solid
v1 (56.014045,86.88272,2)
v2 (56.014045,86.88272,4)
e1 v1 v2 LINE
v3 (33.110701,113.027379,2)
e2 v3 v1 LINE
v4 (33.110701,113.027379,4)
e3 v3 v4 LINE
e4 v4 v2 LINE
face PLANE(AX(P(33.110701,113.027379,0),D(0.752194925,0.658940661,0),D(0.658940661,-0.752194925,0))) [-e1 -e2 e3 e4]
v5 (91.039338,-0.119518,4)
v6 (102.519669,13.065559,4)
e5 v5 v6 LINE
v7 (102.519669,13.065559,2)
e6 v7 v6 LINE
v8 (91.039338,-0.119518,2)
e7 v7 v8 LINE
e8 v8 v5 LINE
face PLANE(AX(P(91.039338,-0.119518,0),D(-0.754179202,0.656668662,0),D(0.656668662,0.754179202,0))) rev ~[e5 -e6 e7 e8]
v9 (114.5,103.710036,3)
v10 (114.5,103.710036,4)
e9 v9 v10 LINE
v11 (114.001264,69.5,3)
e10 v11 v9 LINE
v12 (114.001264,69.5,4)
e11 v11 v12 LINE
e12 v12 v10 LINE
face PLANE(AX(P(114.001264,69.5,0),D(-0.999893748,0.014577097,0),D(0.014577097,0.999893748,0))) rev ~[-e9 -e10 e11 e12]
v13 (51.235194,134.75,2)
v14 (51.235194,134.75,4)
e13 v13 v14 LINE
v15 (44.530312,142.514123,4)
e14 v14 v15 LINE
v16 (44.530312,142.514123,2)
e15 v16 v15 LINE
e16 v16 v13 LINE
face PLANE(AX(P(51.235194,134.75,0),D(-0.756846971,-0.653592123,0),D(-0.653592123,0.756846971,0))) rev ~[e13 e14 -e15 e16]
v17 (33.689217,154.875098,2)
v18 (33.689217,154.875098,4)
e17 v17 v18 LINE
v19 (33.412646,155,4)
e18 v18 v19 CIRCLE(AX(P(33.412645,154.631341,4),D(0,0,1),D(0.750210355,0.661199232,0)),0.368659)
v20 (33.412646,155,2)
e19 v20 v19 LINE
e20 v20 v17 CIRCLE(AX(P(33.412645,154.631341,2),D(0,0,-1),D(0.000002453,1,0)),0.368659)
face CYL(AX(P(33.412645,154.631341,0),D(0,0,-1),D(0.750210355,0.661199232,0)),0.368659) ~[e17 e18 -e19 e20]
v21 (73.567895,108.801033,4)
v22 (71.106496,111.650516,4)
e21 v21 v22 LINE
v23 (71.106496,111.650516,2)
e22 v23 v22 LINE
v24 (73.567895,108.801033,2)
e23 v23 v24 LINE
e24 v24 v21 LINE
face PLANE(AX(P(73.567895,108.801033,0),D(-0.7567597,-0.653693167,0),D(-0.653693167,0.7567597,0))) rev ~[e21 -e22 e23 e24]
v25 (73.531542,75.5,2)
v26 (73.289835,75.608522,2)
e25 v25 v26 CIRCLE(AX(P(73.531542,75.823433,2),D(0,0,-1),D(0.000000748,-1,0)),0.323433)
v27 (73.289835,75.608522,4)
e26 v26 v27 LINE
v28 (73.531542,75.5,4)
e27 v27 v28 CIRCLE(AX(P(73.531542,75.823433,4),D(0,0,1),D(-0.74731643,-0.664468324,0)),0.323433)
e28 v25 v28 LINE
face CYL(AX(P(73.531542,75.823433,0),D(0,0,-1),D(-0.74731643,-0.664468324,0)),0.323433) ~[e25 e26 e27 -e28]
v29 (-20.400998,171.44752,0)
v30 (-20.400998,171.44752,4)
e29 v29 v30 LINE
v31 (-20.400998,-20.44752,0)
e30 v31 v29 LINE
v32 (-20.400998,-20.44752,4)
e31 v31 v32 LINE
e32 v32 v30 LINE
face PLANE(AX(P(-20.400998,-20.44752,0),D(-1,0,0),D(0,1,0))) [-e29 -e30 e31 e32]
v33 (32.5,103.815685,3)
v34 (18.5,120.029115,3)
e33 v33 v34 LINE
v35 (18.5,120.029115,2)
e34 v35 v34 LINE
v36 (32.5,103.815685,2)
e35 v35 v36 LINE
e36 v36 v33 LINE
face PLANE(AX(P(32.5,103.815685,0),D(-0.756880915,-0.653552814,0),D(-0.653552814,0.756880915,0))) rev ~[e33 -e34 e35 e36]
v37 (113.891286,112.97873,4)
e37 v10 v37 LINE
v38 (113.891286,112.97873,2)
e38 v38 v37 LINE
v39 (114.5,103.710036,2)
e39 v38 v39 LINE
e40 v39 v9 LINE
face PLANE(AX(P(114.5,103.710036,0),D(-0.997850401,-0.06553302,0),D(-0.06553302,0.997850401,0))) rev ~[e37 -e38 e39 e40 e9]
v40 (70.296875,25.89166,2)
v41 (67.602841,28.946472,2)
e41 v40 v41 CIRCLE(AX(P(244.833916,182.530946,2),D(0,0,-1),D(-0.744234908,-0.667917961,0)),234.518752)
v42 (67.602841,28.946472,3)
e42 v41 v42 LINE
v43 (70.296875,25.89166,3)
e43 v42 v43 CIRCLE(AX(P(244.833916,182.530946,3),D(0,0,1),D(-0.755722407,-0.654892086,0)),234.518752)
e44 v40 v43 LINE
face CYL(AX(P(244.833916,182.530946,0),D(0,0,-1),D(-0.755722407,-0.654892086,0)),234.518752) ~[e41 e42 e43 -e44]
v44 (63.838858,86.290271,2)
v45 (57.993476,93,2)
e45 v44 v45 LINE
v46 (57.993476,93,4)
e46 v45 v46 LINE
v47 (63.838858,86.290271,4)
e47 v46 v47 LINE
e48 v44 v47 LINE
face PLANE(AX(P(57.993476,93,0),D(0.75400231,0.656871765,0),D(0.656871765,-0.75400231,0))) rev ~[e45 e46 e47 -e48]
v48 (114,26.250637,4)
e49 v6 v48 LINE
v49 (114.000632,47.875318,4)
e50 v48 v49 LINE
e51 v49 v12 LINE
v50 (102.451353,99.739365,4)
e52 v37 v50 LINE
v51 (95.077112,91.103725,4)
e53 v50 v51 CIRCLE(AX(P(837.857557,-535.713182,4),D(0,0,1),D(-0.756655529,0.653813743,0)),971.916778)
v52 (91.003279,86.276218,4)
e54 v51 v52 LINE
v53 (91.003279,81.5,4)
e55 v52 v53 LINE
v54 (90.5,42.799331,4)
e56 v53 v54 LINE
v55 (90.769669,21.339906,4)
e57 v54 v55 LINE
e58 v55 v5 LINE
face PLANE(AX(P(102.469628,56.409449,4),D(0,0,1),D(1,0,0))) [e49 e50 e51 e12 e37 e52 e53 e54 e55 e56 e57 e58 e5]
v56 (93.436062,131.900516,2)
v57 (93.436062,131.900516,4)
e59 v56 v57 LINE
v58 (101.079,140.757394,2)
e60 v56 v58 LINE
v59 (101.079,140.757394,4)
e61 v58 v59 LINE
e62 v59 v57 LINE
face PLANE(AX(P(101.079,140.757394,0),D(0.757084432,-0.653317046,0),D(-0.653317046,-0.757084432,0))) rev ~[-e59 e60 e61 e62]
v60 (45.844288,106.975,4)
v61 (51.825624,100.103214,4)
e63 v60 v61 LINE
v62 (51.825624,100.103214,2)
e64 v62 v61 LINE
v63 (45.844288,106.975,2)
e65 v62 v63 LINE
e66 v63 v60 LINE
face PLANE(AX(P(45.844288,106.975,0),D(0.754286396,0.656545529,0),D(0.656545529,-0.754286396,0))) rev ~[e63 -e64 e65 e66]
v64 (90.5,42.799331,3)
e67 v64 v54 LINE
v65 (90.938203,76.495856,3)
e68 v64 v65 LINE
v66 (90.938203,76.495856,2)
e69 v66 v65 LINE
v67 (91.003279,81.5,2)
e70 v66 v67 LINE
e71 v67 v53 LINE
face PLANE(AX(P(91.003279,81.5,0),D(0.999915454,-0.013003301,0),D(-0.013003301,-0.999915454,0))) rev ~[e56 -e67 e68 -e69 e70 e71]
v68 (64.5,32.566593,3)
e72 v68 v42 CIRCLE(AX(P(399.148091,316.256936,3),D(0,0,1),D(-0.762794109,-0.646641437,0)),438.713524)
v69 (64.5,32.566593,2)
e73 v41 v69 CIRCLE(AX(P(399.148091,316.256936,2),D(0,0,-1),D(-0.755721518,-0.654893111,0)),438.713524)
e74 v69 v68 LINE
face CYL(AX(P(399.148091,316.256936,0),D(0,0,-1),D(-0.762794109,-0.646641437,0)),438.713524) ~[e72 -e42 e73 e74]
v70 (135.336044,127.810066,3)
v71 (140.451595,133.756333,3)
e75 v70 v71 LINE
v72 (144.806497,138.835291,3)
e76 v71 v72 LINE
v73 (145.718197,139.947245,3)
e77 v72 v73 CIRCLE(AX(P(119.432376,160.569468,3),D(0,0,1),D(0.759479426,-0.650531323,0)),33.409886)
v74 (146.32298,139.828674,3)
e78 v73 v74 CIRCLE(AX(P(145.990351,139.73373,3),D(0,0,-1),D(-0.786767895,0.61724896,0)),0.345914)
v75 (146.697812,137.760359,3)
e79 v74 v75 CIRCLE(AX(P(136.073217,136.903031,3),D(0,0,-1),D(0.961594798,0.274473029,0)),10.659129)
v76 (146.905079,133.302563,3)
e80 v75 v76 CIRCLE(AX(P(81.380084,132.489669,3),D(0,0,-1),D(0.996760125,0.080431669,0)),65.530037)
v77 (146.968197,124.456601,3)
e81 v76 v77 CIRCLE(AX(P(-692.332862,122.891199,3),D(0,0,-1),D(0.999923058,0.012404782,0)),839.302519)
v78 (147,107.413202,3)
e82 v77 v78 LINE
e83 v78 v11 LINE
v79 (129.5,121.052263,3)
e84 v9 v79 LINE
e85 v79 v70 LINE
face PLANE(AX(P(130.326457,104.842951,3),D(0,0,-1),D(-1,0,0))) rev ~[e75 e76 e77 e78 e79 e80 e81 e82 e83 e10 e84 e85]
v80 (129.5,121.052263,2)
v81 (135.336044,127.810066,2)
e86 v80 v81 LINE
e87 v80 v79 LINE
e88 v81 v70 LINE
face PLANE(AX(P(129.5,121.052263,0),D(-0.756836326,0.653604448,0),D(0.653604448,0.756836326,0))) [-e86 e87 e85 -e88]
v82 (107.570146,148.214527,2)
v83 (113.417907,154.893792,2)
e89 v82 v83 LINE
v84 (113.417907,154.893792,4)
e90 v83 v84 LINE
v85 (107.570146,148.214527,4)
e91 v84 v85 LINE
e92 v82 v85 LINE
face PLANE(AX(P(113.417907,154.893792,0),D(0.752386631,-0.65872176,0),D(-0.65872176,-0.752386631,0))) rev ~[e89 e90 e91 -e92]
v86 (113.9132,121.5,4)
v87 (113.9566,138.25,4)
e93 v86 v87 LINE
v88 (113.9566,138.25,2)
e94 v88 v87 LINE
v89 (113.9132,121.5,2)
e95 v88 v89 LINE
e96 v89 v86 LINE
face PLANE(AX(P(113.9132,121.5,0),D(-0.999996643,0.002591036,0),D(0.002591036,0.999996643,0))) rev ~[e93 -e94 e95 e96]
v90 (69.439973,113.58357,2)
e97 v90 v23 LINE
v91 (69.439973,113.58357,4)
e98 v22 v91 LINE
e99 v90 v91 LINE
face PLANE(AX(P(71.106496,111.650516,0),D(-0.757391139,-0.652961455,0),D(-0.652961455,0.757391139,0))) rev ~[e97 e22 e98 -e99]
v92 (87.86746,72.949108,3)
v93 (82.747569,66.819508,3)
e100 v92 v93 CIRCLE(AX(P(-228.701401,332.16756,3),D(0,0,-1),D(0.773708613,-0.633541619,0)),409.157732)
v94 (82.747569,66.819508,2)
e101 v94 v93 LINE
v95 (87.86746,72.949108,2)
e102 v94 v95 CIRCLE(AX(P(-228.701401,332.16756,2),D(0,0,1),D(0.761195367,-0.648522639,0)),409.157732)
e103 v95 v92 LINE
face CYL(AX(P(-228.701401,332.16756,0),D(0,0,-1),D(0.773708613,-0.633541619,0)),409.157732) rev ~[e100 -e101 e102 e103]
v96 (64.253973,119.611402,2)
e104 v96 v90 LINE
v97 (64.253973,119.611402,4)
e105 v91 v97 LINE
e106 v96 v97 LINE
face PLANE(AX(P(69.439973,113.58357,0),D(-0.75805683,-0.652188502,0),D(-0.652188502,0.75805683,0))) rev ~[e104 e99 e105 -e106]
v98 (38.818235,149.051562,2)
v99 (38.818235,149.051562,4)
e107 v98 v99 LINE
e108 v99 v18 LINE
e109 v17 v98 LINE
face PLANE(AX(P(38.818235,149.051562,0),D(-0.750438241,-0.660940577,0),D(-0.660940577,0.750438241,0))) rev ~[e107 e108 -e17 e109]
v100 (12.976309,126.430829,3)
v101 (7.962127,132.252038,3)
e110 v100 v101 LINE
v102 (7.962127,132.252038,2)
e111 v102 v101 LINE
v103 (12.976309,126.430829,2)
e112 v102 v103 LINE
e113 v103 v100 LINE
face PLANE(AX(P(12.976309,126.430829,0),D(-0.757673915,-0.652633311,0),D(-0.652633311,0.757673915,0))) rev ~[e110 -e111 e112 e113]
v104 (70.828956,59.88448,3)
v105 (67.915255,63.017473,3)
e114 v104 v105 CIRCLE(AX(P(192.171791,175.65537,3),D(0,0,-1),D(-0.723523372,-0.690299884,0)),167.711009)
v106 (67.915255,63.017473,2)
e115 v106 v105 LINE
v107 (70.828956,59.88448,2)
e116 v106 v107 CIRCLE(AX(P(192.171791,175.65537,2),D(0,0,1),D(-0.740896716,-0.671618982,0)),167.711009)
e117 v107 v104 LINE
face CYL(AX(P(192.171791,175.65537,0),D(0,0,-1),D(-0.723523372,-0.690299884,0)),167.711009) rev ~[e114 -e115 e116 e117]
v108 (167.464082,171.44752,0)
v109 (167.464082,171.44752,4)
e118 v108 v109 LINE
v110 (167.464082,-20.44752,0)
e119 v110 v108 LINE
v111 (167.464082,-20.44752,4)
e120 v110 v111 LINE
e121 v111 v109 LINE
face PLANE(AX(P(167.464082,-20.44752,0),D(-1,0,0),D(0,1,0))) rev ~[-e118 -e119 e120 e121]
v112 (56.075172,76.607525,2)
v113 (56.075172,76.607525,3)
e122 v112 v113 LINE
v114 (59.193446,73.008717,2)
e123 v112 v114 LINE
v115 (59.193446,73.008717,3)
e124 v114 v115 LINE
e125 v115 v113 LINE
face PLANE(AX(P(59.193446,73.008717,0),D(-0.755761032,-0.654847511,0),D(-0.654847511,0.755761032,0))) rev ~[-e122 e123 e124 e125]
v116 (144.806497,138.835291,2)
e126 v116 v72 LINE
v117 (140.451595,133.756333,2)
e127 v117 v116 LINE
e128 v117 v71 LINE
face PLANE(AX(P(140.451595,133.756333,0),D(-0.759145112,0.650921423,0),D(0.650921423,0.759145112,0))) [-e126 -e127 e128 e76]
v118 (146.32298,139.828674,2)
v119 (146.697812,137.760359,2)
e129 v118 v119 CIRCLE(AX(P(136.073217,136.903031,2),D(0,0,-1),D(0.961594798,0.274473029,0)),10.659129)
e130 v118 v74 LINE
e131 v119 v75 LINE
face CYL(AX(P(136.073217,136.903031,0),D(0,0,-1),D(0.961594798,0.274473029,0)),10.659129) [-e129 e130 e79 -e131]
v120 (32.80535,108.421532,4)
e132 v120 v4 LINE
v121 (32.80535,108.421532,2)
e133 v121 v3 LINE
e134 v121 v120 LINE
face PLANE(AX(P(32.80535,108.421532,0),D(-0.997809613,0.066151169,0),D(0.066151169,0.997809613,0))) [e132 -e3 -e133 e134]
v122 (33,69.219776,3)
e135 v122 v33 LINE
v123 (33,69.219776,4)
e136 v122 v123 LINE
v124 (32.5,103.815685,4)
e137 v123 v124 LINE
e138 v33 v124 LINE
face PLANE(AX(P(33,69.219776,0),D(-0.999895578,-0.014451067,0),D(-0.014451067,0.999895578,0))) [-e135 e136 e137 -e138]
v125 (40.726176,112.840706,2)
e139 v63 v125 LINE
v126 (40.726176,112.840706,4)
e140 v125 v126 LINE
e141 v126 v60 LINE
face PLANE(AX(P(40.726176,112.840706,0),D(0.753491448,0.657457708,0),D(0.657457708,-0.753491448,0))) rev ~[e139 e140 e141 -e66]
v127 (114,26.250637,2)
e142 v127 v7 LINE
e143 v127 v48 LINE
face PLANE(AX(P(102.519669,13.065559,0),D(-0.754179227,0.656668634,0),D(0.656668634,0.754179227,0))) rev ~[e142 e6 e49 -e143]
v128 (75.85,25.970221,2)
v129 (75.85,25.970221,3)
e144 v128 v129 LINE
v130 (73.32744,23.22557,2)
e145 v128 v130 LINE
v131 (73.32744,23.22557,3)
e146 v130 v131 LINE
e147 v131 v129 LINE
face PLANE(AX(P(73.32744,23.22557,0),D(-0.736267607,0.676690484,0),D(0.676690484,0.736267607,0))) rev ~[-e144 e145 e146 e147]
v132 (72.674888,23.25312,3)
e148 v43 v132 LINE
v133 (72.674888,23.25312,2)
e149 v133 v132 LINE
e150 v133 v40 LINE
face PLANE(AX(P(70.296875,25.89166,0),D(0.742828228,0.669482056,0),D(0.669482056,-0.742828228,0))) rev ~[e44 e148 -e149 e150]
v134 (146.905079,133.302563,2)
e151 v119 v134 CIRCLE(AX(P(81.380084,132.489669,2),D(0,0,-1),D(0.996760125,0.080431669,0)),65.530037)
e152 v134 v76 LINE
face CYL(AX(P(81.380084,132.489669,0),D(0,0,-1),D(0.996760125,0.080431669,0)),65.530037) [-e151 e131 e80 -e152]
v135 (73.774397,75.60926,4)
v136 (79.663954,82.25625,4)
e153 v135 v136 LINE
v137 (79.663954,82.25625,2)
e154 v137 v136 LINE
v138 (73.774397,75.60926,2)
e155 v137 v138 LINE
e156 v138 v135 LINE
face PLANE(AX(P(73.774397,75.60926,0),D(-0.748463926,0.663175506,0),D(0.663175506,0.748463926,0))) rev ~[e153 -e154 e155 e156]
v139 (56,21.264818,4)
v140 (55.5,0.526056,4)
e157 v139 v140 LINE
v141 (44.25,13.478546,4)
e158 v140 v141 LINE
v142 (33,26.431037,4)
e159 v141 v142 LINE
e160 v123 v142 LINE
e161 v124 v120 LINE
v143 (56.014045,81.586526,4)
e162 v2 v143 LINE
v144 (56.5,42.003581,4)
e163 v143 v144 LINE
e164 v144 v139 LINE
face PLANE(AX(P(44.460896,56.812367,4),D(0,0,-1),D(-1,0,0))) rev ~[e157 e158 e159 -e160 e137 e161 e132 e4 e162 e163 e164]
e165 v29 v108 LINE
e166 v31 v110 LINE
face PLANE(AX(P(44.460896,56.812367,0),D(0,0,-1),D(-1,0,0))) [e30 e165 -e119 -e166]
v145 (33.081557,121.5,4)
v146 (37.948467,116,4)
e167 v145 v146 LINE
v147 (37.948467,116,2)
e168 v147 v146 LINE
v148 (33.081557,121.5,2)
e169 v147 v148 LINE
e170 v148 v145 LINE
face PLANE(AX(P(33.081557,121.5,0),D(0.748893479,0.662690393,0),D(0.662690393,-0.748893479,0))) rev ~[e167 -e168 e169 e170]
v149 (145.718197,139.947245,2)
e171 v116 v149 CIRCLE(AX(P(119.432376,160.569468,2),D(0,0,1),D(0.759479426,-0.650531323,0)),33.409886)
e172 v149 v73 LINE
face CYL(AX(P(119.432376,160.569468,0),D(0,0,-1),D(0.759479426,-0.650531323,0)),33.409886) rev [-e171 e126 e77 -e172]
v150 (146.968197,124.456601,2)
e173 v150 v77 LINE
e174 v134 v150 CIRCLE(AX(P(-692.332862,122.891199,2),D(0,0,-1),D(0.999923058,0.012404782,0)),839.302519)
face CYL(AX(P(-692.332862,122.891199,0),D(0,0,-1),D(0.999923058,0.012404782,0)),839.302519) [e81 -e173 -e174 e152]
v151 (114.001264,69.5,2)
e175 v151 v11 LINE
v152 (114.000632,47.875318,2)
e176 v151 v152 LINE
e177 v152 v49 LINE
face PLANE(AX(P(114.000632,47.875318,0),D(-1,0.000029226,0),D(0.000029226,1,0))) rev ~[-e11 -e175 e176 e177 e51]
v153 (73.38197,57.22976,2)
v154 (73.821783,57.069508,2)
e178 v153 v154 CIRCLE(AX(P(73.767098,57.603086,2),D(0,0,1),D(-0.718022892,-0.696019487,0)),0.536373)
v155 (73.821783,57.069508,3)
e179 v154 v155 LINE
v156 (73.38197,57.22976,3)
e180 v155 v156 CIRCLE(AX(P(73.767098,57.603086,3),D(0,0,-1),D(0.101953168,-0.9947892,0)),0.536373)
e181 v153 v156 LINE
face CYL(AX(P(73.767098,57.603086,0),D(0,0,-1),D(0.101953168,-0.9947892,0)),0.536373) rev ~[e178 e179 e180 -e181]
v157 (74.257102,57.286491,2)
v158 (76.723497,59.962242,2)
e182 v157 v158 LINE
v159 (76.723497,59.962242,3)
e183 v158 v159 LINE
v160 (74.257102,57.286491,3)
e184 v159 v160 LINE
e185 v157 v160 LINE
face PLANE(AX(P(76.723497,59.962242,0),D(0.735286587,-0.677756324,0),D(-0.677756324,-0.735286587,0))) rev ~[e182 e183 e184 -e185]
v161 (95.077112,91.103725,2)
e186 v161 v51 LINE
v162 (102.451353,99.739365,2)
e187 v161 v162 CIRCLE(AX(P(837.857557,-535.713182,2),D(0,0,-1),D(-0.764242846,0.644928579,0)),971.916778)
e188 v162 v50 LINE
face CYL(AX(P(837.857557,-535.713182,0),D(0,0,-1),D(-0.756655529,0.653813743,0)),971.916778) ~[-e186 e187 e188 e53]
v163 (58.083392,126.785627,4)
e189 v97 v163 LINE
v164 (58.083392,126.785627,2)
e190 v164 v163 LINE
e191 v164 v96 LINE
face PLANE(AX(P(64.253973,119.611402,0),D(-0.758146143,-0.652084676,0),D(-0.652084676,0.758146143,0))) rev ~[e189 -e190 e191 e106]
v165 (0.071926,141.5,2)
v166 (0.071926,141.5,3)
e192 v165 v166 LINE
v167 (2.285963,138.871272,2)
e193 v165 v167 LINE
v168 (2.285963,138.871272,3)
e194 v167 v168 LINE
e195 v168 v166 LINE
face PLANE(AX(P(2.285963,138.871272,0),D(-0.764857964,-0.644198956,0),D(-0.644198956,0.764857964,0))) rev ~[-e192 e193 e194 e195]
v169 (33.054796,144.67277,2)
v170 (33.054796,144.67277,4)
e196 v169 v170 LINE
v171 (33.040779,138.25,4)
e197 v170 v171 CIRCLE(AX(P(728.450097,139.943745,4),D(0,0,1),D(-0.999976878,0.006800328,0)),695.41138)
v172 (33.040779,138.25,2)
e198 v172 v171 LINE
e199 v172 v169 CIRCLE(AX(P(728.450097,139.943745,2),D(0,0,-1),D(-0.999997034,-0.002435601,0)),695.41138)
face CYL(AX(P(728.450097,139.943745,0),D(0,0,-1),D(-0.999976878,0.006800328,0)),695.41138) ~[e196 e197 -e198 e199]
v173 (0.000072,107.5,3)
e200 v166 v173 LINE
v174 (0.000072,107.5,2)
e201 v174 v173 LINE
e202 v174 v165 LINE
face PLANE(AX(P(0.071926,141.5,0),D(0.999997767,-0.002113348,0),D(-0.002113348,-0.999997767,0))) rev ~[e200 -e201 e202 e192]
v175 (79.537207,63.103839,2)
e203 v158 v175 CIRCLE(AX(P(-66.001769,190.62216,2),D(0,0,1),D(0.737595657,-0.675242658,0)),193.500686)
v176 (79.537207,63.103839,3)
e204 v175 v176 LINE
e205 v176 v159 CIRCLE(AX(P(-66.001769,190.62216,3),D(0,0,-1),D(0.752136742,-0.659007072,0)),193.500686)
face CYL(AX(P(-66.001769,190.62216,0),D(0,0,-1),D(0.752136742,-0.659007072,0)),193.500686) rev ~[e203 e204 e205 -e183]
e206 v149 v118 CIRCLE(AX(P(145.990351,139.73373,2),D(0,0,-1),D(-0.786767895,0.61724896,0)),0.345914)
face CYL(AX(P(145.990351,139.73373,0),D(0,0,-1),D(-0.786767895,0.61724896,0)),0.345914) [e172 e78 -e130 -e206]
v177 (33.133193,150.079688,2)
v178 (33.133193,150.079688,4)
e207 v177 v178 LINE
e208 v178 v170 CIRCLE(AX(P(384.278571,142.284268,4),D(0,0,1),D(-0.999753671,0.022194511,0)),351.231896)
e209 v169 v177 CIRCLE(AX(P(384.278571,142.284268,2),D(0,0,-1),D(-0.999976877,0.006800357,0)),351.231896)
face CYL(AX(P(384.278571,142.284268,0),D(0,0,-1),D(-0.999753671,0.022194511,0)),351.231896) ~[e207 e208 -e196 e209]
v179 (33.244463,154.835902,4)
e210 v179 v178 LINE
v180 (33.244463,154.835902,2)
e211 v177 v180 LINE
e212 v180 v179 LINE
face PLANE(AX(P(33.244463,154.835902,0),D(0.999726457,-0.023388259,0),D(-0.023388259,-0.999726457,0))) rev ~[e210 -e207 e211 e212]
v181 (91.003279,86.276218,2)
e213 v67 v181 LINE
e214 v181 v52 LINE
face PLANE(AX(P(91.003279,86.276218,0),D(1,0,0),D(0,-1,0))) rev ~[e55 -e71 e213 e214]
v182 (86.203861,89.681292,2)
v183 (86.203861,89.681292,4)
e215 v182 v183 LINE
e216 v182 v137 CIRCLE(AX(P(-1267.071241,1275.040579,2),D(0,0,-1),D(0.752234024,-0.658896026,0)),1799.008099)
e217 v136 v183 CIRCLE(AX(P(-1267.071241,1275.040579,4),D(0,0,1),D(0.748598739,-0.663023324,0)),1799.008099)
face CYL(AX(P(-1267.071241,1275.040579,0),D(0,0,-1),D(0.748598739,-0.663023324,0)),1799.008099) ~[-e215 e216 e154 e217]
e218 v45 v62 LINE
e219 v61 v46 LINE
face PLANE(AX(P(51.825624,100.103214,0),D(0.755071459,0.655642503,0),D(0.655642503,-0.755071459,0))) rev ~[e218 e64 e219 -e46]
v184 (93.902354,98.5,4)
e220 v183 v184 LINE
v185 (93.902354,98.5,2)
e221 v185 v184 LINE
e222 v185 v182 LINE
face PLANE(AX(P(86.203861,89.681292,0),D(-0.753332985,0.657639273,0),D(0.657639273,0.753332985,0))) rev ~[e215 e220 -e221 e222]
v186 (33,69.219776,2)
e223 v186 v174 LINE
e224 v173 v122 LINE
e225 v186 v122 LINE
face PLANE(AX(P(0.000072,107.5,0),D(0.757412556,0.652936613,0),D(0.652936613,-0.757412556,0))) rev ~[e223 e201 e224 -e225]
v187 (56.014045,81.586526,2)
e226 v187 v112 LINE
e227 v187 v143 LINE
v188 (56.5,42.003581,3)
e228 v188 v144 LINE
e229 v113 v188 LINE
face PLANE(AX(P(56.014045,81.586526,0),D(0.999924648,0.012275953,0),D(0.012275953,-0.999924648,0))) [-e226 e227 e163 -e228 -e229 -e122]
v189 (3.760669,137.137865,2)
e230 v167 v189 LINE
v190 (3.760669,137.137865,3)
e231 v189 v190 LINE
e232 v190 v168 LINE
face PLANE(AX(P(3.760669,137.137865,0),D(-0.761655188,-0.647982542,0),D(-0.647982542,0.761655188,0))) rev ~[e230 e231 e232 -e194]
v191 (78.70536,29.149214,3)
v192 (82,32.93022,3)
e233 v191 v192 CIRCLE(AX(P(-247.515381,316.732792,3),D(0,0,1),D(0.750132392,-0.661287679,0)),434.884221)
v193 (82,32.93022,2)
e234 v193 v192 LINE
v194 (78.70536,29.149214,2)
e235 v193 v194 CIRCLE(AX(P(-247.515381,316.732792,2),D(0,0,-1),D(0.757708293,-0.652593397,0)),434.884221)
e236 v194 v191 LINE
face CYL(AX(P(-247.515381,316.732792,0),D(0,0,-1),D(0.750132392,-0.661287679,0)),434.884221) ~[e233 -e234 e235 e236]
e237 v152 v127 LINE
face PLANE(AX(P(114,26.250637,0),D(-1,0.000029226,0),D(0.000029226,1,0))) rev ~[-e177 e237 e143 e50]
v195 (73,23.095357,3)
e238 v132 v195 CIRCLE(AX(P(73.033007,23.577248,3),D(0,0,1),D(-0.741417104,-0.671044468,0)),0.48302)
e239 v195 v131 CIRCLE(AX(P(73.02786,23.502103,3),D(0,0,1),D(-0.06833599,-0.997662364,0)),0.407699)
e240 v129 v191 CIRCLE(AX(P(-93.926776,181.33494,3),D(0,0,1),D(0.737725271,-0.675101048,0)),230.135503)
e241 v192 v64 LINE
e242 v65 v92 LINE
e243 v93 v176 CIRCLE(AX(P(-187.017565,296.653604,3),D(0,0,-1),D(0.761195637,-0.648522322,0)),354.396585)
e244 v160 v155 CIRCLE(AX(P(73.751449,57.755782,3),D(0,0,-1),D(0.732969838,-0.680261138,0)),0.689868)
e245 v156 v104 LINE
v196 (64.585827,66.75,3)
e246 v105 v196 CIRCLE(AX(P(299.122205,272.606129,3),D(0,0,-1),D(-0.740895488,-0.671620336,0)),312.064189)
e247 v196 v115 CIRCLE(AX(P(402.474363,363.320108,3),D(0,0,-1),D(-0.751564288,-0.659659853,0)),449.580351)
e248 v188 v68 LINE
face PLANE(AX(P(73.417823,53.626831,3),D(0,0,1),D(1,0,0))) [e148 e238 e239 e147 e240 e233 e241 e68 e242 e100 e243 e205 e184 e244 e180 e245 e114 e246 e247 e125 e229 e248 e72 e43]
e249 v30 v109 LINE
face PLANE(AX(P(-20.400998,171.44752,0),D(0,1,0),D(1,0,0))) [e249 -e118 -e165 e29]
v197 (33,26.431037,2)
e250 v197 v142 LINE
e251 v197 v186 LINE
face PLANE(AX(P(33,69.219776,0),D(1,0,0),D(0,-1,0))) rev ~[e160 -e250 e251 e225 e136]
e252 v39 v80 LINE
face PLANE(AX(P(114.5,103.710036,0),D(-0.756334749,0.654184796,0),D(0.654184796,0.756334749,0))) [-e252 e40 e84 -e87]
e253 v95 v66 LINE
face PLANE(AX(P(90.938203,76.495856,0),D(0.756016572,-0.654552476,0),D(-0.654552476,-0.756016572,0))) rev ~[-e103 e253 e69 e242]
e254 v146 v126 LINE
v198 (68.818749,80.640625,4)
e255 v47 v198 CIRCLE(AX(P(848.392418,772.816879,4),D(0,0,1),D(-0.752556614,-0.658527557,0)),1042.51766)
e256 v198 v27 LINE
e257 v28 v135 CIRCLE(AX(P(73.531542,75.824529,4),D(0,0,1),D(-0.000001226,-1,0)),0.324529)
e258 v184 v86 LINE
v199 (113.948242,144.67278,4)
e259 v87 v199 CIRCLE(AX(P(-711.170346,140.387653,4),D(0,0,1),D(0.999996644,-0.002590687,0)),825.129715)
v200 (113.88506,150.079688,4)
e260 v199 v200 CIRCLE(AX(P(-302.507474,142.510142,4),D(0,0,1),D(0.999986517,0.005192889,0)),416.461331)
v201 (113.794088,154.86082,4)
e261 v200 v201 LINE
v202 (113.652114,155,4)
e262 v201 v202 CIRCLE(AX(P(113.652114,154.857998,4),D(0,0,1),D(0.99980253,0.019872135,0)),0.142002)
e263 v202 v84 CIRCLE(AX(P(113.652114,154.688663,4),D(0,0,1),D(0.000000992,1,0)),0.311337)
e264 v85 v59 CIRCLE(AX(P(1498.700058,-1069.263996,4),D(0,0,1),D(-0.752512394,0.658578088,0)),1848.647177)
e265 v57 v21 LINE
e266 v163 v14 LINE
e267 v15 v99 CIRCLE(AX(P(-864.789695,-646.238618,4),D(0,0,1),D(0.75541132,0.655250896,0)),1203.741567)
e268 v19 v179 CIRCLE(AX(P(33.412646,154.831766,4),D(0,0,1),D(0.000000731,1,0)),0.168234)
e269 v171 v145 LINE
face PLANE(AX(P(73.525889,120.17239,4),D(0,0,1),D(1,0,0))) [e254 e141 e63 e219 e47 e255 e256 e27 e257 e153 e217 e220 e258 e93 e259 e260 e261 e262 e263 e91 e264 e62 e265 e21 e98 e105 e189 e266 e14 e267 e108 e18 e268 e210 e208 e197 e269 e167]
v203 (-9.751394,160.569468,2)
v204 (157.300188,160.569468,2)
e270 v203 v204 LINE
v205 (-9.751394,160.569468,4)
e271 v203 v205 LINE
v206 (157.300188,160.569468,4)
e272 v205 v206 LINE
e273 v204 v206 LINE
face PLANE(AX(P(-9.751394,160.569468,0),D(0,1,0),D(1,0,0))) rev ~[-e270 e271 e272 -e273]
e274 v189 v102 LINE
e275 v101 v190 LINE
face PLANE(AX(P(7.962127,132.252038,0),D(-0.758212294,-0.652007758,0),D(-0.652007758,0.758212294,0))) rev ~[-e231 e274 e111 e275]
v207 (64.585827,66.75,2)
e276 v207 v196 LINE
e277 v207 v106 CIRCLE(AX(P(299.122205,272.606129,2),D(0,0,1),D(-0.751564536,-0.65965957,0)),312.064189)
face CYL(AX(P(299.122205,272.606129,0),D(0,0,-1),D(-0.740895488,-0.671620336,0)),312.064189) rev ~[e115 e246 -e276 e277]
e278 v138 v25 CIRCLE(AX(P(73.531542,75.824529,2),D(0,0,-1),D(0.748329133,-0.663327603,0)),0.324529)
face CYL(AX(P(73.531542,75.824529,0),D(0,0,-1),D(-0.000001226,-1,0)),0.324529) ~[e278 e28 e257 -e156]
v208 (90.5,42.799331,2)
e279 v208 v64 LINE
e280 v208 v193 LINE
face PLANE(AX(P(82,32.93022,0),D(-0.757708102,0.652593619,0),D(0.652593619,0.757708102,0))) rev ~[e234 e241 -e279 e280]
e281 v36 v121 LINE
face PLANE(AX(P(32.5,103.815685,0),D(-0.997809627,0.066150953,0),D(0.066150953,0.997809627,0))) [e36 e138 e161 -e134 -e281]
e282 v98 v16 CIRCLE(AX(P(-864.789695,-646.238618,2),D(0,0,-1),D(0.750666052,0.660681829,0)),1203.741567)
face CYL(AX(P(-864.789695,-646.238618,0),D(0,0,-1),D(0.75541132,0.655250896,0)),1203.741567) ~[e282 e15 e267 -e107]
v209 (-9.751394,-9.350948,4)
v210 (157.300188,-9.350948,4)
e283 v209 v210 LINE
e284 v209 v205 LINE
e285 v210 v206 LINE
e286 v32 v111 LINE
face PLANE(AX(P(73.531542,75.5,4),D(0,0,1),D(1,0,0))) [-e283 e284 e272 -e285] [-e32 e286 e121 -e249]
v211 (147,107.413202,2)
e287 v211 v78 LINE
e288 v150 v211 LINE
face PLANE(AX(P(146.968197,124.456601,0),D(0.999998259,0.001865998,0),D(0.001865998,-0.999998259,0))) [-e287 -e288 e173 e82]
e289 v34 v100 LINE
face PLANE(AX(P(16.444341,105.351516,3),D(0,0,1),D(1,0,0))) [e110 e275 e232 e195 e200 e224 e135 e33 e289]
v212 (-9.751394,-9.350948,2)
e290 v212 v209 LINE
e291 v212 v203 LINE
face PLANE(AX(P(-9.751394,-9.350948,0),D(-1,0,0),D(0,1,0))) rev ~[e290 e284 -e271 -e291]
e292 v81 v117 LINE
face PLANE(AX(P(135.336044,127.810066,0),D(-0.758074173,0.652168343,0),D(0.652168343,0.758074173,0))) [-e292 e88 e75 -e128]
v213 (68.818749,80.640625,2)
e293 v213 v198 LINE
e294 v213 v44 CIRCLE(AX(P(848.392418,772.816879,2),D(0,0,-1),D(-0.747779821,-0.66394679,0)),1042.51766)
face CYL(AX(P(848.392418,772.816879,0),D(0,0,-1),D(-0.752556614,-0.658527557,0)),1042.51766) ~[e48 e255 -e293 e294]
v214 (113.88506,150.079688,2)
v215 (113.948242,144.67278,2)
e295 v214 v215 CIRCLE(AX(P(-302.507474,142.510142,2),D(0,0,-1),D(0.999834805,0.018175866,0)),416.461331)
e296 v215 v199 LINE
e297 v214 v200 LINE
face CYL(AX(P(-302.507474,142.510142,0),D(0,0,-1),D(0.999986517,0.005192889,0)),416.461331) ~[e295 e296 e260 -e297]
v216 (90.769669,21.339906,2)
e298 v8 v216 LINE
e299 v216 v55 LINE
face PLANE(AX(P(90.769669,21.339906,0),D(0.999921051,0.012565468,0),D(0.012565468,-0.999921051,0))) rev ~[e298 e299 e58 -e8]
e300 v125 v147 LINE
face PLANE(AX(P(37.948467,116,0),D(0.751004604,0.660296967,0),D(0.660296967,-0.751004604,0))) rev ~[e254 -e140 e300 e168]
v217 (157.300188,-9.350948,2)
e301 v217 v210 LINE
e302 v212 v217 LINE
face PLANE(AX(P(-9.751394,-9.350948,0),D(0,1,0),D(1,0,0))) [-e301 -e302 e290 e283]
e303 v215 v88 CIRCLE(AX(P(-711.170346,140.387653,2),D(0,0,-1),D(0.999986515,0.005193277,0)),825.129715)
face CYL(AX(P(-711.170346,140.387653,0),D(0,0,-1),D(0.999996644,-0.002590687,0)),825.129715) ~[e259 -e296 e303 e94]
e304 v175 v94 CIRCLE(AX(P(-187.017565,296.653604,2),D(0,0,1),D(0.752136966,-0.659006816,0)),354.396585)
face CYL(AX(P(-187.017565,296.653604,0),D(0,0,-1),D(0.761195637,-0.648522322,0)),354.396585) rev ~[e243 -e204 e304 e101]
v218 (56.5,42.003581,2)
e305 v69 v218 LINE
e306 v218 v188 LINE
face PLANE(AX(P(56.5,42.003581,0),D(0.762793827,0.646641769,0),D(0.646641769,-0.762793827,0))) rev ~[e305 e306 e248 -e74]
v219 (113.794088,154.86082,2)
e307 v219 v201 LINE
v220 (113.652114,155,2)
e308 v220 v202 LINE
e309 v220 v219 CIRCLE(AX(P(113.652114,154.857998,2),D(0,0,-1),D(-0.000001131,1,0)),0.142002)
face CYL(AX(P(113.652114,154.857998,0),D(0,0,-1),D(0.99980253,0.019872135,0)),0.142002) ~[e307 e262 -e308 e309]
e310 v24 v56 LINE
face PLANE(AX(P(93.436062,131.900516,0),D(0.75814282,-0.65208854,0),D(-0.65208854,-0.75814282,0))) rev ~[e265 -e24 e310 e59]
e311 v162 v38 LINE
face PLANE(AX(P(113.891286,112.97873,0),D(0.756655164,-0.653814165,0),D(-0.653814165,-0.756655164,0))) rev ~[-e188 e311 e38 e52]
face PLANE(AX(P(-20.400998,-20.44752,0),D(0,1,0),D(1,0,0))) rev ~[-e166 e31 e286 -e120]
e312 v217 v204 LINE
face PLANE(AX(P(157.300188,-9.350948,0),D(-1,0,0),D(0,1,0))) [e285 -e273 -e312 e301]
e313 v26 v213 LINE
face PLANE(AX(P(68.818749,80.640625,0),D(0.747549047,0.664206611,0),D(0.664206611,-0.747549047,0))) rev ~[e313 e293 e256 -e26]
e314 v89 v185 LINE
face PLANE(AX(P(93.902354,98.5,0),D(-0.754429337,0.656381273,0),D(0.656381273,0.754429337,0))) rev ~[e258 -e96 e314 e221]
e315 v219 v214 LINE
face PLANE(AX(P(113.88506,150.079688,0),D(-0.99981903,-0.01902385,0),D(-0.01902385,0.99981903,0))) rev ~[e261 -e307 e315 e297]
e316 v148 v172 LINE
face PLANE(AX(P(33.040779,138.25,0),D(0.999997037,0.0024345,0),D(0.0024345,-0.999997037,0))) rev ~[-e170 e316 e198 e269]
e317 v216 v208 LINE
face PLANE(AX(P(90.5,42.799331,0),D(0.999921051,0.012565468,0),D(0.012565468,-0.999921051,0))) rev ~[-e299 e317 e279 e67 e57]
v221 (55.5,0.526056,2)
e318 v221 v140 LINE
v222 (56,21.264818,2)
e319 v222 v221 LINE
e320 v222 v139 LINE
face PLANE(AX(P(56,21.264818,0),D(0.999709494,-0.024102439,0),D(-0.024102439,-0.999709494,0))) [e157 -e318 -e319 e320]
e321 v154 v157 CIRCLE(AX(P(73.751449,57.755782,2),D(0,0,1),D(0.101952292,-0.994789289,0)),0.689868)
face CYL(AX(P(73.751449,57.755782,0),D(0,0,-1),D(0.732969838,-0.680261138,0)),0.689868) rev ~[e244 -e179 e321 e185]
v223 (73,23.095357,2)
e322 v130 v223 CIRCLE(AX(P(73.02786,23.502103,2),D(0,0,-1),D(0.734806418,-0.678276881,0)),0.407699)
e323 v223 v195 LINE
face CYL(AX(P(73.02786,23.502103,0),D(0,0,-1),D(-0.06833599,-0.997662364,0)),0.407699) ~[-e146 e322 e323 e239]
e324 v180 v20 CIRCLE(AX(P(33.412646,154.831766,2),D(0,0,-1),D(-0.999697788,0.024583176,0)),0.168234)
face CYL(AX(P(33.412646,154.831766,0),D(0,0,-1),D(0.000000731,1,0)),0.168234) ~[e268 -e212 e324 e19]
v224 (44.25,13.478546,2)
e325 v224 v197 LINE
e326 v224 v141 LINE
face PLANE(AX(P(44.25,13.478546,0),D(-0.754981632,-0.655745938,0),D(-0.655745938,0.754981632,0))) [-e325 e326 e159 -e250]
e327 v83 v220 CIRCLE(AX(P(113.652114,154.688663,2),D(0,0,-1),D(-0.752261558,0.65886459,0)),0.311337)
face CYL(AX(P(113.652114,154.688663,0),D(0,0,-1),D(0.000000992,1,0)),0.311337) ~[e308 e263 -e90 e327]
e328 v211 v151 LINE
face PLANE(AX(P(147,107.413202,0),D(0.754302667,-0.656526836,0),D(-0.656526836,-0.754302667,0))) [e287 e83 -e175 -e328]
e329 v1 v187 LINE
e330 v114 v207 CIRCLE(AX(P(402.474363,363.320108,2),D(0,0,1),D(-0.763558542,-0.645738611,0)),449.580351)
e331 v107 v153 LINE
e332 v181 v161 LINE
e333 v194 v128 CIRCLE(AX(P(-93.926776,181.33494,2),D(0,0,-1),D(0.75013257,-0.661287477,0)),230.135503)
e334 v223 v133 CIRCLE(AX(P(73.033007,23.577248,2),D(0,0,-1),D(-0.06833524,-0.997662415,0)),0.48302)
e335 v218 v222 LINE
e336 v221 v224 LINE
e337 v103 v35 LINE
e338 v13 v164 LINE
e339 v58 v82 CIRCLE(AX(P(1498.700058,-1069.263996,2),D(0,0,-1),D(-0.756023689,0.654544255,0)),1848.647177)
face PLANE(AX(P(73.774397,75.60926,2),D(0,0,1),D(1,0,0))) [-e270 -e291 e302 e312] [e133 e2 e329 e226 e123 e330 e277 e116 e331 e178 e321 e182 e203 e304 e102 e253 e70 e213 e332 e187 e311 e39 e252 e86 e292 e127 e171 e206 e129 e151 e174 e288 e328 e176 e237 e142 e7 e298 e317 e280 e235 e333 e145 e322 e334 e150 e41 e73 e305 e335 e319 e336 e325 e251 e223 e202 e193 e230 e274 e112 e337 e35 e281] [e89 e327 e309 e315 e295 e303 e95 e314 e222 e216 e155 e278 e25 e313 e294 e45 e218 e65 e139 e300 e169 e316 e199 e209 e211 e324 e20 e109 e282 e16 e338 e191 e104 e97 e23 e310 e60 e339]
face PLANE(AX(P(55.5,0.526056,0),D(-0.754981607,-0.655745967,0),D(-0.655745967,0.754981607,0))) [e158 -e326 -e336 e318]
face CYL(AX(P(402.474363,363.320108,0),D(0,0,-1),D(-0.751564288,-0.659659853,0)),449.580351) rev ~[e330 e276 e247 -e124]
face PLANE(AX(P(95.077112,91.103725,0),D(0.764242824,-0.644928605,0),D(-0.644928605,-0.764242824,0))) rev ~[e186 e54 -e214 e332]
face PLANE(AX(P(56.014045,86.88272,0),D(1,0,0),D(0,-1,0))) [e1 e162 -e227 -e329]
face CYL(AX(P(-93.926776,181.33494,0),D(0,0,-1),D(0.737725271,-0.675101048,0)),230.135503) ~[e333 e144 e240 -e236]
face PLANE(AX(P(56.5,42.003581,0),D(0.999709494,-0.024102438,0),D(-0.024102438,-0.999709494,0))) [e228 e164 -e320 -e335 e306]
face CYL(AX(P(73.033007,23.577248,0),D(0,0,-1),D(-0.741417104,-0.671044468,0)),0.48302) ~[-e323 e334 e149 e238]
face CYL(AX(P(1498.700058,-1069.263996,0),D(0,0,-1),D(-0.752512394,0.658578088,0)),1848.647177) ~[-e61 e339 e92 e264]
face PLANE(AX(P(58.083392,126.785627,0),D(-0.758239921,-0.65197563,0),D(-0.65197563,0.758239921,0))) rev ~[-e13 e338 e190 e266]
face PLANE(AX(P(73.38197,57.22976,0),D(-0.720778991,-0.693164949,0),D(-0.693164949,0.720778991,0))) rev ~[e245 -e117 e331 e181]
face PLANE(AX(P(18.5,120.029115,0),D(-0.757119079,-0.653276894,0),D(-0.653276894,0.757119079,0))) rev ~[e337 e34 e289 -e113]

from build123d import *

# Parameters (mm, degrees)
MODEL_W                 = 187.865079392
MODEL_H                 = 191.895039876
MODEL_W_2               = 167.051581688
MODEL_H_2               = 169.92041531
SALIENTE_EXTRUIR1_DEPTH = 4
MODEL_3_W               = 167.051581688
MODEL_3_H               = 169.92041531
SALIENTE_EXTRUIR2_DEPTH = 2
SALIENTE_EXTRUIR3_DEPTH = 4
SALIENTE_EXTRUIR4_DEPTH = 3


with BuildPart() as part:
    # Model → Saliente-Extruir1 (new body)
    with BuildSketch(Plane.XY):
        with Locations((73.531542, 75.5)):
            Rectangle(MODEL_W, MODEL_H)
        with Locations((73.774397, 75.60926)):
            Rectangle(MODEL_W_2, MODEL_H_2, mode=Mode.SUBTRACT)
    extrude(amount=SALIENTE_EXTRUIR1_DEPTH)

    # Model<3> → Saliente-Extruir2 (add)
    with BuildSketch(Plane.XY):
        with Locations((73.774397, 75.60926)):
            Rectangle(MODEL_3_W, MODEL_3_H)
        with BuildLine():
            Line((7.2e-05, 107.5), (0.035999, 124.5))
            Line((0.035999, 124.5), (0.071926, 141.5))
            Line((0.071926, 141.5), (2.285963, 138.871272))
            Line((2.285963, 138.871272), (3.760669, 137.137865))
            Line((3.760669, 137.137865), (7.962127, 132.252038))
            Line((7.962127, 132.252038), (12.976309, 126.430829))
            Line((12.976309, 126.430829), (18.5, 120.029115))
            Line((18.5, 120.029115), (32.5, 103.815685))
            Line((32.5, 103.815685), (32.80535, 108.421532))
            Line((32.80535, 108.421532), (33.110701, 113.027379))
            Line((33.110701, 113.027379), (56.014045, 86.882719623))
            Line((56.014045, 86.882719623), (56.014045, 81.586526))
            Line((56.014045, 81.586526), (56.075171593, 76.607524733))
            Line((56.075171593, 76.607524733), (59.193446, 73.008717))
            ThreePointArc((59.193446, 73.008717), (61.875260227, 69.866972201), (64.585827, 66.75))
            ThreePointArc((64.585827, 66.75), (66.243062882, 64.877065991), (67.915255, 63.017473))
            ThreePointArc((67.915255, 63.017473), (69.362114385, 61.441684708), (70.828956, 59.88448))
            Line((70.828956, 59.88448), (73.38197, 57.22976))
            ThreePointArc((73.38197, 57.22976), (73.583472519, 57.099124116), (73.821783, 57.069508))
            ThreePointArc((73.821783, 57.069508), (74.059199996, 57.138361311), (74.257102, 57.286491))
            Line((74.257102, 57.286491), (76.723497, 59.962242))
            ThreePointArc((76.723497, 59.962242), (78.138911281, 61.525374547), (79.537207, 63.103839))
            ThreePointArc((79.537207, 63.103839), (81.148823539, 64.956113153), (82.747569, 66.819508))
            ThreePointArc((82.747569, 66.819508), (85.322470724, 69.871815466), (87.86746, 72.949108))
            Line((87.86746, 72.949108), (90.938203107, 76.495855987))
            Line((90.938203107, 76.495855987), (91.003279, 81.5))
            Line((91.003279, 81.5), (91.003279, 86.276217564))
            Line((91.003279, 86.276217564), (95.077112, 91.103725))
            ThreePointArc((95.077112, 91.103725), (98.751620148, 95.432315079), (102.451353, 99.739365))
            Line((102.451353, 99.739365), (113.891286, 112.97873))
            Line((113.891286, 112.97873), (114.195643, 108.344383))
            Line((114.195643, 108.344383), (114.5, 103.710036))
            Line((114.5, 103.710036), (129.5, 121.052263))
            Line((129.5, 121.052263), (135.336044, 127.810066))
            Line((135.336044, 127.810066), (140.451595, 133.756333))
            Line((140.451595, 133.756333), (144.806497, 138.835291))
            ThreePointArc((144.806497, 138.835291), (145.268329868, 139.386362598), (145.718197, 139.947245))
            ThreePointArc((145.718197, 139.947245), (146.056902292, 140.073181551), (146.32298, 139.828674))
            ThreePointArc((146.32298, 139.828674), (146.561505098, 138.803778786), (146.697812, 137.760359))
            ThreePointArc((146.697812, 137.760359), (146.839403633, 135.533225879), (146.905079, 133.302563))
            ThreePointArc((146.905079, 133.302563), (146.948292555, 128.879665158), (146.968197, 124.456601))
            Line((146.968197, 124.456601), (147, 107.413202))
            Line((147, 107.413202), (130.500632, 88.456601))
            Line((130.500632, 88.456601), (114.001264, 69.5))
            Line((114.001264, 69.5), (114.000632, 47.875318))
            Line((114.000632, 47.875318), (114, 26.250637))
            Line((114, 26.250637), (102.519669, 13.065559))
            Line((102.519669, 13.065559), (91.039338, -0.119518))
            Line((91.039338, -0.119518), (90.769669, 21.339906))
            Line((90.769669, 21.339906), (90.5, 42.799331))
            Line((90.5, 42.799331), (82, 32.93022))
            ThreePointArc((82, 32.93022), (80.35813032, 31.034967776), (78.70536, 29.149214))
            ThreePointArc((78.70536, 29.149214), (77.285058443, 27.553090209), (75.85, 25.970221))
            Line((75.85, 25.970221), (73.32744, 23.22557))
            ThreePointArc((73.32744, 23.22557), (73.178514606, 23.123260258), (73, 23.095357))
            ThreePointArc((73, 23.095357), (72.8221346, 23.142689469), (72.674888, 23.25312))
            Line((72.674888, 23.25312), (70.296875, 25.89166))
            ThreePointArc((70.296875, 25.89166), (68.943226003, 27.413217252), (67.602841, 28.946472))
            ThreePointArc((67.602841, 28.946472), (66.046502566, 30.752317291), (64.5, 32.566593))
            Line((64.5, 32.566593), (56.5, 42.003581))
            Line((56.5, 42.003581), (56, 21.264818))
            Line((56, 21.264818), (55.5, 0.526056))
            Line((55.5, 0.526056), (44.25, 13.478546))
            Line((44.25, 13.478546), (33, 26.431037))
            Line((33, 26.431037), (33, 47.825406))
            Line((33, 47.825406), (33, 69.219776))
            Line((33, 69.219776), (16.500036, 88.359888))
            Line((16.500036, 88.359888), (7.2e-05, 107.5))
        make_face(mode=Mode.SUBTRACT)
        with BuildLine():
            Line((33.081557, 121.5), (33.040779, 138.25))
            ThreePointArc((33.040779, 138.25), (33.040372412, 141.461401183), (33.054796, 144.67277))
            ThreePointArc((33.054796, 144.67277), (33.083588886, 147.376379875), (33.133193, 150.079688))
            Line((33.133193, 150.079688), (33.244463, 154.835902))
            ThreePointArc((33.244463, 154.835902), (33.295158013, 154.952178847), (33.412646, 155))
            ThreePointArc((33.412646, 155), (33.564379261, 154.967326432), (33.689217, 154.875098))
            Line((33.689217, 154.875098), (38.818235, 149.051562))
            ThreePointArc((38.818235, 149.051562), (41.680167001, 145.787991937), (44.530312, 142.514123))
            Line((44.530312, 142.514123), (51.235194, 134.75))
            Line((51.235194, 134.75), (58.083392, 126.785627))
            Line((58.083392, 126.785627), (64.253973, 119.611402))
            Line((64.253973, 119.611402), (69.439973, 113.58357))
            Line((69.439973, 113.58357), (71.106496, 111.650516))
            Line((71.106496, 111.650516), (73.567895, 108.801033))
            Line((73.567895, 108.801033), (93.436062, 131.900516))
            Line((93.436062, 131.900516), (101.079, 140.757394))
            ThreePointArc((101.079, 140.757394), (104.319587907, 144.490299831), (107.570146, 148.214527))
            Line((107.570146, 148.214527), (113.417907, 154.893792))
            ThreePointArc((113.417907, 154.893792), (113.52353223, 154.97220757), (113.652114, 155))
            ThreePointArc((113.652114, 155), (113.751521904, 154.959401446), (113.794088, 154.86082))
            Line((113.794088, 154.86082), (113.88506, 150.079688))
            ThreePointArc((113.88506, 150.079688), (113.925426412, 147.376336544), (113.948242, 144.67278))
            ThreePointArc((113.948242, 144.67278), (113.958670365, 141.461398132), (113.9566, 138.25))
            Line((113.9566, 138.25), (113.9132, 121.5))
            Line((113.9132, 121.5), (93.902354, 98.5))
            Line((93.902354, 98.5), (86.203861, 89.681292))
            ThreePointArc((86.203861, 89.681292), (82.939012216, 85.964274814), (79.663954, 82.25625))
            Line((79.663954, 82.25625), (73.774397, 75.60926))
            ThreePointArc((73.774397, 75.60926), (73.664692606, 75.528572751), (73.531542, 75.5))
            ThreePointArc((73.531542, 75.5), (73.399066228, 75.528375147), (73.289835, 75.608522))
            Line((73.289835, 75.608522), (68.818749, 80.640625))
            ThreePointArc((68.818749, 80.640625), (66.32370187, 83.460951158), (63.838858, 86.290271))
            Line((63.838858, 86.290271), (57.993476, 93))
            Line((57.993476, 93), (51.825624, 100.103214))
            Line((51.825624, 100.103214), (45.844288, 106.975))
            Line((45.844288, 106.975), (40.726176, 112.840706))
            Line((40.726176, 112.840706), (37.948467, 116))
            Line((37.948467, 116), (33.081557, 121.5))
        make_face(mode=Mode.SUBTRACT)
    extrude(amount=SALIENTE_EXTRUIR2_DEPTH)

    # Model<4> → Saliente-Extruir3 (add)
    with BuildSketch(Plane.XY):
        with BuildLine():
            ThreePointArc((33.054796, 144.67277), (33.040372412, 141.461401183), (33.040779, 138.25))
            Line((33.040779, 138.25), (33.081557, 121.5))
            Line((33.081557, 121.5), (37.948467, 116))
            Line((37.948467, 116), (40.726176, 112.840706))
            Line((40.726176, 112.840706), (45.844288, 106.975))
            Line((45.844288, 106.975), (51.825624, 100.103214))
            Line((51.825624, 100.103214), (57.993476, 93))
            Line((57.993476, 93), (63.838858, 86.290271))
            ThreePointArc((63.838858, 86.290271), (66.32370187, 83.460951158), (68.818749, 80.640625))
            Line((68.818749, 80.640625), (73.289835, 75.608522))
            ThreePointArc((73.289835, 75.608522), (73.399066228, 75.528375147), (73.531542, 75.5))
            ThreePointArc((73.531542, 75.5), (73.664692606, 75.528572751), (73.774397, 75.60926))
            Line((73.774397, 75.60926), (79.663954, 82.25625))
            ThreePointArc((79.663954, 82.25625), (82.939012216, 85.964274814), (86.203861, 89.681292))
            Line((86.203861, 89.681292), (93.902354, 98.5))
            Line((93.902354, 98.5), (113.9132, 121.5))
            Line((113.9132, 121.5), (113.9566, 138.25))
            ThreePointArc((113.9566, 138.25), (113.958670365, 141.461398132), (113.948242, 144.67278))
            ThreePointArc((113.948242, 144.67278), (113.925426412, 147.376336544), (113.88506, 150.079688))
            Line((113.88506, 150.079688), (113.794088, 154.86082))
            ThreePointArc((113.794088, 154.86082), (113.751521904, 154.959401446), (113.652114, 155))
            ThreePointArc((113.652114, 155), (113.52353223, 154.97220757), (113.417907, 154.893792))
            Line((113.417907, 154.893792), (107.570146, 148.214527))
            ThreePointArc((107.570146, 148.214527), (104.319587907, 144.490299831), (101.079, 140.757394))
            Line((101.079, 140.757394), (93.436062, 131.900516))
            Line((93.436062, 131.900516), (73.567895, 108.801033))
            Line((73.567895, 108.801033), (71.106496, 111.650516))
            Line((71.106496, 111.650516), (69.439973, 113.58357))
            Line((69.439973, 113.58357), (64.253973, 119.611402))
            Line((64.253973, 119.611402), (58.083392, 126.785627))
            Line((58.083392, 126.785627), (51.235194, 134.75))
            Line((51.235194, 134.75), (44.530312, 142.514123))
            ThreePointArc((44.530312, 142.514123), (41.680167001, 145.787991937), (38.818235, 149.051562))
            Line((38.818235, 149.051562), (33.689217, 154.875098))
            ThreePointArc((33.689217, 154.875098), (33.564379261, 154.967326432), (33.412646, 155))
            ThreePointArc((33.412646, 155), (33.295158013, 154.952178847), (33.244463, 154.835902))
            Line((33.244463, 154.835902), (33.133193, 150.079688))
            ThreePointArc((33.133193, 150.079688), (33.083588886, 147.376379875), (33.054796, 144.67277))
        make_face()
        Polygon((32.5, 103.815685), (33, 69.219776), (33, 26.431037), (44.25, 13.478546), (55.5, 0.526056), (56, 21.264818), (56.5, 42.003581), (56.014045, 81.586526), (56.014045, 86.882719623), (33.110701, 113.027379), (32.80535, 108.421532), align=None)
        with BuildLine():
            Line((91.003279, 81.5), (90.5, 42.799331))
            Line((90.5, 42.799331), (90.769669, 21.339906))
            Line((90.769669, 21.339906), (91.039338, -0.119518))
            Line((91.039338, -0.119518), (102.519669, 13.065559))
            Line((102.519669, 13.065559), (114, 26.250637))
            Line((114, 26.250637), (114.000632, 47.875318))
            Line((114.000632, 47.875318), (114.001264, 69.5))
            Line((114.001264, 69.5), (114.5, 103.710036))
            Line((114.5, 103.710036), (113.891286, 112.97873))
            Line((113.891286, 112.97873), (102.451353, 99.739365))
            ThreePointArc((102.451353, 99.739365), (98.751620148, 95.432315079), (95.077112, 91.103725))
            Line((95.077112, 91.103725), (91.003279, 86.276217564))
            Line((91.003279, 86.276217564), (91.003279, 81.5))
        make_face()
    extrude(amount=SALIENTE_EXTRUIR3_DEPTH)

    # Model<5> → Saliente-Extruir4 (add)
    with BuildSketch(Plane.XY):
        Polygon((0.071926, 141.5), (7.2e-05, 107.5), (33, 69.219776), (32.5, 103.815685), (18.5, 120.029115), (12.976309, 126.430829), (7.962127, 132.252038), (3.760669, 137.137865), (2.285963, 138.871272), align=None)
        with BuildLine():
            Line((56.075171593, 76.607524733), (56.5, 42.003581))
            Line((56.5, 42.003581), (64.5, 32.566593))
            ThreePointArc((64.5, 32.566593), (66.046502566, 30.752317291), (67.602841, 28.946472))
            ThreePointArc((67.602841, 28.946472), (68.943226003, 27.413217252), (70.296875, 25.89166))
            Line((70.296875, 25.89166), (72.674888, 23.25312))
            ThreePointArc((72.674888, 23.25312), (72.8221346, 23.142689469), (73, 23.095357))
            ThreePointArc((73, 23.095357), (73.178514606, 23.123260258), (73.32744, 23.22557))
            Line((73.32744, 23.22557), (75.85, 25.970221))
            ThreePointArc((75.85, 25.970221), (77.285058443, 27.553090209), (78.70536, 29.149214))
            ThreePointArc((78.70536, 29.149214), (80.35813032, 31.034967776), (82, 32.93022))
            Line((82, 32.93022), (90.5, 42.799331))
            Line((90.5, 42.799331), (90.938203107, 76.495855987))
            Line((90.938203107, 76.495855987), (87.86746, 72.949108))
            ThreePointArc((87.86746, 72.949108), (85.322470724, 69.871815466), (82.747569, 66.819508))
            ThreePointArc((82.747569, 66.819508), (81.148823539, 64.956113153), (79.537207, 63.103839))
            ThreePointArc((79.537207, 63.103839), (78.138911281, 61.525374547), (76.723497, 59.962242))
            Line((76.723497, 59.962242), (74.257102, 57.286491))
            ThreePointArc((74.257102, 57.286491), (74.059199996, 57.138361311), (73.821783, 57.069508))
            ThreePointArc((73.821783, 57.069508), (73.583472519, 57.099124116), (73.38197, 57.22976))
            Line((73.38197, 57.22976), (70.828956, 59.88448))
            ThreePointArc((70.828956, 59.88448), (69.362114385, 61.441684708), (67.915255, 63.017473))
            ThreePointArc((67.915255, 63.017473), (66.243062882, 64.877065991), (64.585827, 66.75))
            ThreePointArc((64.585827, 66.75), (61.875260227, 69.866972201), (59.193446, 73.008717))
            Line((59.193446, 73.008717), (56.075171593, 76.607524733))
        make_face()
        with BuildLine():
            Line((114.5, 103.710036), (114.001264, 69.5))
            Line((114.001264, 69.5), (147, 107.413202))
            Line((147, 107.413202), (146.968197, 124.456601))
            ThreePointArc((146.968197, 124.456601), (146.948292555, 128.879665158), (146.905079, 133.302563))
            ThreePointArc((146.905079, 133.302563), (146.839403633, 135.533225879), (146.697812, 137.760359))
            ThreePointArc((146.697812, 137.760359), (146.561505098, 138.803778786), (146.32298, 139.828674))
            ThreePointArc((146.32298, 139.828674), (146.056902292, 140.073181551), (145.718197, 139.947245))
            ThreePointArc((145.718197, 139.947245), (145.268329868, 139.386362598), (144.806497, 138.835291))
            Line((144.806497, 138.835291), (140.451595, 133.756333))
            Line((140.451595, 133.756333), (135.336044, 127.810066))
            Line((135.336044, 127.810066), (129.5, 121.052263))
            Line((129.5, 121.052263), (114.5, 103.710036))
        make_face()
    extrude(amount=SALIENTE_EXTRUIR4_DEPTH)


solid = part.part
